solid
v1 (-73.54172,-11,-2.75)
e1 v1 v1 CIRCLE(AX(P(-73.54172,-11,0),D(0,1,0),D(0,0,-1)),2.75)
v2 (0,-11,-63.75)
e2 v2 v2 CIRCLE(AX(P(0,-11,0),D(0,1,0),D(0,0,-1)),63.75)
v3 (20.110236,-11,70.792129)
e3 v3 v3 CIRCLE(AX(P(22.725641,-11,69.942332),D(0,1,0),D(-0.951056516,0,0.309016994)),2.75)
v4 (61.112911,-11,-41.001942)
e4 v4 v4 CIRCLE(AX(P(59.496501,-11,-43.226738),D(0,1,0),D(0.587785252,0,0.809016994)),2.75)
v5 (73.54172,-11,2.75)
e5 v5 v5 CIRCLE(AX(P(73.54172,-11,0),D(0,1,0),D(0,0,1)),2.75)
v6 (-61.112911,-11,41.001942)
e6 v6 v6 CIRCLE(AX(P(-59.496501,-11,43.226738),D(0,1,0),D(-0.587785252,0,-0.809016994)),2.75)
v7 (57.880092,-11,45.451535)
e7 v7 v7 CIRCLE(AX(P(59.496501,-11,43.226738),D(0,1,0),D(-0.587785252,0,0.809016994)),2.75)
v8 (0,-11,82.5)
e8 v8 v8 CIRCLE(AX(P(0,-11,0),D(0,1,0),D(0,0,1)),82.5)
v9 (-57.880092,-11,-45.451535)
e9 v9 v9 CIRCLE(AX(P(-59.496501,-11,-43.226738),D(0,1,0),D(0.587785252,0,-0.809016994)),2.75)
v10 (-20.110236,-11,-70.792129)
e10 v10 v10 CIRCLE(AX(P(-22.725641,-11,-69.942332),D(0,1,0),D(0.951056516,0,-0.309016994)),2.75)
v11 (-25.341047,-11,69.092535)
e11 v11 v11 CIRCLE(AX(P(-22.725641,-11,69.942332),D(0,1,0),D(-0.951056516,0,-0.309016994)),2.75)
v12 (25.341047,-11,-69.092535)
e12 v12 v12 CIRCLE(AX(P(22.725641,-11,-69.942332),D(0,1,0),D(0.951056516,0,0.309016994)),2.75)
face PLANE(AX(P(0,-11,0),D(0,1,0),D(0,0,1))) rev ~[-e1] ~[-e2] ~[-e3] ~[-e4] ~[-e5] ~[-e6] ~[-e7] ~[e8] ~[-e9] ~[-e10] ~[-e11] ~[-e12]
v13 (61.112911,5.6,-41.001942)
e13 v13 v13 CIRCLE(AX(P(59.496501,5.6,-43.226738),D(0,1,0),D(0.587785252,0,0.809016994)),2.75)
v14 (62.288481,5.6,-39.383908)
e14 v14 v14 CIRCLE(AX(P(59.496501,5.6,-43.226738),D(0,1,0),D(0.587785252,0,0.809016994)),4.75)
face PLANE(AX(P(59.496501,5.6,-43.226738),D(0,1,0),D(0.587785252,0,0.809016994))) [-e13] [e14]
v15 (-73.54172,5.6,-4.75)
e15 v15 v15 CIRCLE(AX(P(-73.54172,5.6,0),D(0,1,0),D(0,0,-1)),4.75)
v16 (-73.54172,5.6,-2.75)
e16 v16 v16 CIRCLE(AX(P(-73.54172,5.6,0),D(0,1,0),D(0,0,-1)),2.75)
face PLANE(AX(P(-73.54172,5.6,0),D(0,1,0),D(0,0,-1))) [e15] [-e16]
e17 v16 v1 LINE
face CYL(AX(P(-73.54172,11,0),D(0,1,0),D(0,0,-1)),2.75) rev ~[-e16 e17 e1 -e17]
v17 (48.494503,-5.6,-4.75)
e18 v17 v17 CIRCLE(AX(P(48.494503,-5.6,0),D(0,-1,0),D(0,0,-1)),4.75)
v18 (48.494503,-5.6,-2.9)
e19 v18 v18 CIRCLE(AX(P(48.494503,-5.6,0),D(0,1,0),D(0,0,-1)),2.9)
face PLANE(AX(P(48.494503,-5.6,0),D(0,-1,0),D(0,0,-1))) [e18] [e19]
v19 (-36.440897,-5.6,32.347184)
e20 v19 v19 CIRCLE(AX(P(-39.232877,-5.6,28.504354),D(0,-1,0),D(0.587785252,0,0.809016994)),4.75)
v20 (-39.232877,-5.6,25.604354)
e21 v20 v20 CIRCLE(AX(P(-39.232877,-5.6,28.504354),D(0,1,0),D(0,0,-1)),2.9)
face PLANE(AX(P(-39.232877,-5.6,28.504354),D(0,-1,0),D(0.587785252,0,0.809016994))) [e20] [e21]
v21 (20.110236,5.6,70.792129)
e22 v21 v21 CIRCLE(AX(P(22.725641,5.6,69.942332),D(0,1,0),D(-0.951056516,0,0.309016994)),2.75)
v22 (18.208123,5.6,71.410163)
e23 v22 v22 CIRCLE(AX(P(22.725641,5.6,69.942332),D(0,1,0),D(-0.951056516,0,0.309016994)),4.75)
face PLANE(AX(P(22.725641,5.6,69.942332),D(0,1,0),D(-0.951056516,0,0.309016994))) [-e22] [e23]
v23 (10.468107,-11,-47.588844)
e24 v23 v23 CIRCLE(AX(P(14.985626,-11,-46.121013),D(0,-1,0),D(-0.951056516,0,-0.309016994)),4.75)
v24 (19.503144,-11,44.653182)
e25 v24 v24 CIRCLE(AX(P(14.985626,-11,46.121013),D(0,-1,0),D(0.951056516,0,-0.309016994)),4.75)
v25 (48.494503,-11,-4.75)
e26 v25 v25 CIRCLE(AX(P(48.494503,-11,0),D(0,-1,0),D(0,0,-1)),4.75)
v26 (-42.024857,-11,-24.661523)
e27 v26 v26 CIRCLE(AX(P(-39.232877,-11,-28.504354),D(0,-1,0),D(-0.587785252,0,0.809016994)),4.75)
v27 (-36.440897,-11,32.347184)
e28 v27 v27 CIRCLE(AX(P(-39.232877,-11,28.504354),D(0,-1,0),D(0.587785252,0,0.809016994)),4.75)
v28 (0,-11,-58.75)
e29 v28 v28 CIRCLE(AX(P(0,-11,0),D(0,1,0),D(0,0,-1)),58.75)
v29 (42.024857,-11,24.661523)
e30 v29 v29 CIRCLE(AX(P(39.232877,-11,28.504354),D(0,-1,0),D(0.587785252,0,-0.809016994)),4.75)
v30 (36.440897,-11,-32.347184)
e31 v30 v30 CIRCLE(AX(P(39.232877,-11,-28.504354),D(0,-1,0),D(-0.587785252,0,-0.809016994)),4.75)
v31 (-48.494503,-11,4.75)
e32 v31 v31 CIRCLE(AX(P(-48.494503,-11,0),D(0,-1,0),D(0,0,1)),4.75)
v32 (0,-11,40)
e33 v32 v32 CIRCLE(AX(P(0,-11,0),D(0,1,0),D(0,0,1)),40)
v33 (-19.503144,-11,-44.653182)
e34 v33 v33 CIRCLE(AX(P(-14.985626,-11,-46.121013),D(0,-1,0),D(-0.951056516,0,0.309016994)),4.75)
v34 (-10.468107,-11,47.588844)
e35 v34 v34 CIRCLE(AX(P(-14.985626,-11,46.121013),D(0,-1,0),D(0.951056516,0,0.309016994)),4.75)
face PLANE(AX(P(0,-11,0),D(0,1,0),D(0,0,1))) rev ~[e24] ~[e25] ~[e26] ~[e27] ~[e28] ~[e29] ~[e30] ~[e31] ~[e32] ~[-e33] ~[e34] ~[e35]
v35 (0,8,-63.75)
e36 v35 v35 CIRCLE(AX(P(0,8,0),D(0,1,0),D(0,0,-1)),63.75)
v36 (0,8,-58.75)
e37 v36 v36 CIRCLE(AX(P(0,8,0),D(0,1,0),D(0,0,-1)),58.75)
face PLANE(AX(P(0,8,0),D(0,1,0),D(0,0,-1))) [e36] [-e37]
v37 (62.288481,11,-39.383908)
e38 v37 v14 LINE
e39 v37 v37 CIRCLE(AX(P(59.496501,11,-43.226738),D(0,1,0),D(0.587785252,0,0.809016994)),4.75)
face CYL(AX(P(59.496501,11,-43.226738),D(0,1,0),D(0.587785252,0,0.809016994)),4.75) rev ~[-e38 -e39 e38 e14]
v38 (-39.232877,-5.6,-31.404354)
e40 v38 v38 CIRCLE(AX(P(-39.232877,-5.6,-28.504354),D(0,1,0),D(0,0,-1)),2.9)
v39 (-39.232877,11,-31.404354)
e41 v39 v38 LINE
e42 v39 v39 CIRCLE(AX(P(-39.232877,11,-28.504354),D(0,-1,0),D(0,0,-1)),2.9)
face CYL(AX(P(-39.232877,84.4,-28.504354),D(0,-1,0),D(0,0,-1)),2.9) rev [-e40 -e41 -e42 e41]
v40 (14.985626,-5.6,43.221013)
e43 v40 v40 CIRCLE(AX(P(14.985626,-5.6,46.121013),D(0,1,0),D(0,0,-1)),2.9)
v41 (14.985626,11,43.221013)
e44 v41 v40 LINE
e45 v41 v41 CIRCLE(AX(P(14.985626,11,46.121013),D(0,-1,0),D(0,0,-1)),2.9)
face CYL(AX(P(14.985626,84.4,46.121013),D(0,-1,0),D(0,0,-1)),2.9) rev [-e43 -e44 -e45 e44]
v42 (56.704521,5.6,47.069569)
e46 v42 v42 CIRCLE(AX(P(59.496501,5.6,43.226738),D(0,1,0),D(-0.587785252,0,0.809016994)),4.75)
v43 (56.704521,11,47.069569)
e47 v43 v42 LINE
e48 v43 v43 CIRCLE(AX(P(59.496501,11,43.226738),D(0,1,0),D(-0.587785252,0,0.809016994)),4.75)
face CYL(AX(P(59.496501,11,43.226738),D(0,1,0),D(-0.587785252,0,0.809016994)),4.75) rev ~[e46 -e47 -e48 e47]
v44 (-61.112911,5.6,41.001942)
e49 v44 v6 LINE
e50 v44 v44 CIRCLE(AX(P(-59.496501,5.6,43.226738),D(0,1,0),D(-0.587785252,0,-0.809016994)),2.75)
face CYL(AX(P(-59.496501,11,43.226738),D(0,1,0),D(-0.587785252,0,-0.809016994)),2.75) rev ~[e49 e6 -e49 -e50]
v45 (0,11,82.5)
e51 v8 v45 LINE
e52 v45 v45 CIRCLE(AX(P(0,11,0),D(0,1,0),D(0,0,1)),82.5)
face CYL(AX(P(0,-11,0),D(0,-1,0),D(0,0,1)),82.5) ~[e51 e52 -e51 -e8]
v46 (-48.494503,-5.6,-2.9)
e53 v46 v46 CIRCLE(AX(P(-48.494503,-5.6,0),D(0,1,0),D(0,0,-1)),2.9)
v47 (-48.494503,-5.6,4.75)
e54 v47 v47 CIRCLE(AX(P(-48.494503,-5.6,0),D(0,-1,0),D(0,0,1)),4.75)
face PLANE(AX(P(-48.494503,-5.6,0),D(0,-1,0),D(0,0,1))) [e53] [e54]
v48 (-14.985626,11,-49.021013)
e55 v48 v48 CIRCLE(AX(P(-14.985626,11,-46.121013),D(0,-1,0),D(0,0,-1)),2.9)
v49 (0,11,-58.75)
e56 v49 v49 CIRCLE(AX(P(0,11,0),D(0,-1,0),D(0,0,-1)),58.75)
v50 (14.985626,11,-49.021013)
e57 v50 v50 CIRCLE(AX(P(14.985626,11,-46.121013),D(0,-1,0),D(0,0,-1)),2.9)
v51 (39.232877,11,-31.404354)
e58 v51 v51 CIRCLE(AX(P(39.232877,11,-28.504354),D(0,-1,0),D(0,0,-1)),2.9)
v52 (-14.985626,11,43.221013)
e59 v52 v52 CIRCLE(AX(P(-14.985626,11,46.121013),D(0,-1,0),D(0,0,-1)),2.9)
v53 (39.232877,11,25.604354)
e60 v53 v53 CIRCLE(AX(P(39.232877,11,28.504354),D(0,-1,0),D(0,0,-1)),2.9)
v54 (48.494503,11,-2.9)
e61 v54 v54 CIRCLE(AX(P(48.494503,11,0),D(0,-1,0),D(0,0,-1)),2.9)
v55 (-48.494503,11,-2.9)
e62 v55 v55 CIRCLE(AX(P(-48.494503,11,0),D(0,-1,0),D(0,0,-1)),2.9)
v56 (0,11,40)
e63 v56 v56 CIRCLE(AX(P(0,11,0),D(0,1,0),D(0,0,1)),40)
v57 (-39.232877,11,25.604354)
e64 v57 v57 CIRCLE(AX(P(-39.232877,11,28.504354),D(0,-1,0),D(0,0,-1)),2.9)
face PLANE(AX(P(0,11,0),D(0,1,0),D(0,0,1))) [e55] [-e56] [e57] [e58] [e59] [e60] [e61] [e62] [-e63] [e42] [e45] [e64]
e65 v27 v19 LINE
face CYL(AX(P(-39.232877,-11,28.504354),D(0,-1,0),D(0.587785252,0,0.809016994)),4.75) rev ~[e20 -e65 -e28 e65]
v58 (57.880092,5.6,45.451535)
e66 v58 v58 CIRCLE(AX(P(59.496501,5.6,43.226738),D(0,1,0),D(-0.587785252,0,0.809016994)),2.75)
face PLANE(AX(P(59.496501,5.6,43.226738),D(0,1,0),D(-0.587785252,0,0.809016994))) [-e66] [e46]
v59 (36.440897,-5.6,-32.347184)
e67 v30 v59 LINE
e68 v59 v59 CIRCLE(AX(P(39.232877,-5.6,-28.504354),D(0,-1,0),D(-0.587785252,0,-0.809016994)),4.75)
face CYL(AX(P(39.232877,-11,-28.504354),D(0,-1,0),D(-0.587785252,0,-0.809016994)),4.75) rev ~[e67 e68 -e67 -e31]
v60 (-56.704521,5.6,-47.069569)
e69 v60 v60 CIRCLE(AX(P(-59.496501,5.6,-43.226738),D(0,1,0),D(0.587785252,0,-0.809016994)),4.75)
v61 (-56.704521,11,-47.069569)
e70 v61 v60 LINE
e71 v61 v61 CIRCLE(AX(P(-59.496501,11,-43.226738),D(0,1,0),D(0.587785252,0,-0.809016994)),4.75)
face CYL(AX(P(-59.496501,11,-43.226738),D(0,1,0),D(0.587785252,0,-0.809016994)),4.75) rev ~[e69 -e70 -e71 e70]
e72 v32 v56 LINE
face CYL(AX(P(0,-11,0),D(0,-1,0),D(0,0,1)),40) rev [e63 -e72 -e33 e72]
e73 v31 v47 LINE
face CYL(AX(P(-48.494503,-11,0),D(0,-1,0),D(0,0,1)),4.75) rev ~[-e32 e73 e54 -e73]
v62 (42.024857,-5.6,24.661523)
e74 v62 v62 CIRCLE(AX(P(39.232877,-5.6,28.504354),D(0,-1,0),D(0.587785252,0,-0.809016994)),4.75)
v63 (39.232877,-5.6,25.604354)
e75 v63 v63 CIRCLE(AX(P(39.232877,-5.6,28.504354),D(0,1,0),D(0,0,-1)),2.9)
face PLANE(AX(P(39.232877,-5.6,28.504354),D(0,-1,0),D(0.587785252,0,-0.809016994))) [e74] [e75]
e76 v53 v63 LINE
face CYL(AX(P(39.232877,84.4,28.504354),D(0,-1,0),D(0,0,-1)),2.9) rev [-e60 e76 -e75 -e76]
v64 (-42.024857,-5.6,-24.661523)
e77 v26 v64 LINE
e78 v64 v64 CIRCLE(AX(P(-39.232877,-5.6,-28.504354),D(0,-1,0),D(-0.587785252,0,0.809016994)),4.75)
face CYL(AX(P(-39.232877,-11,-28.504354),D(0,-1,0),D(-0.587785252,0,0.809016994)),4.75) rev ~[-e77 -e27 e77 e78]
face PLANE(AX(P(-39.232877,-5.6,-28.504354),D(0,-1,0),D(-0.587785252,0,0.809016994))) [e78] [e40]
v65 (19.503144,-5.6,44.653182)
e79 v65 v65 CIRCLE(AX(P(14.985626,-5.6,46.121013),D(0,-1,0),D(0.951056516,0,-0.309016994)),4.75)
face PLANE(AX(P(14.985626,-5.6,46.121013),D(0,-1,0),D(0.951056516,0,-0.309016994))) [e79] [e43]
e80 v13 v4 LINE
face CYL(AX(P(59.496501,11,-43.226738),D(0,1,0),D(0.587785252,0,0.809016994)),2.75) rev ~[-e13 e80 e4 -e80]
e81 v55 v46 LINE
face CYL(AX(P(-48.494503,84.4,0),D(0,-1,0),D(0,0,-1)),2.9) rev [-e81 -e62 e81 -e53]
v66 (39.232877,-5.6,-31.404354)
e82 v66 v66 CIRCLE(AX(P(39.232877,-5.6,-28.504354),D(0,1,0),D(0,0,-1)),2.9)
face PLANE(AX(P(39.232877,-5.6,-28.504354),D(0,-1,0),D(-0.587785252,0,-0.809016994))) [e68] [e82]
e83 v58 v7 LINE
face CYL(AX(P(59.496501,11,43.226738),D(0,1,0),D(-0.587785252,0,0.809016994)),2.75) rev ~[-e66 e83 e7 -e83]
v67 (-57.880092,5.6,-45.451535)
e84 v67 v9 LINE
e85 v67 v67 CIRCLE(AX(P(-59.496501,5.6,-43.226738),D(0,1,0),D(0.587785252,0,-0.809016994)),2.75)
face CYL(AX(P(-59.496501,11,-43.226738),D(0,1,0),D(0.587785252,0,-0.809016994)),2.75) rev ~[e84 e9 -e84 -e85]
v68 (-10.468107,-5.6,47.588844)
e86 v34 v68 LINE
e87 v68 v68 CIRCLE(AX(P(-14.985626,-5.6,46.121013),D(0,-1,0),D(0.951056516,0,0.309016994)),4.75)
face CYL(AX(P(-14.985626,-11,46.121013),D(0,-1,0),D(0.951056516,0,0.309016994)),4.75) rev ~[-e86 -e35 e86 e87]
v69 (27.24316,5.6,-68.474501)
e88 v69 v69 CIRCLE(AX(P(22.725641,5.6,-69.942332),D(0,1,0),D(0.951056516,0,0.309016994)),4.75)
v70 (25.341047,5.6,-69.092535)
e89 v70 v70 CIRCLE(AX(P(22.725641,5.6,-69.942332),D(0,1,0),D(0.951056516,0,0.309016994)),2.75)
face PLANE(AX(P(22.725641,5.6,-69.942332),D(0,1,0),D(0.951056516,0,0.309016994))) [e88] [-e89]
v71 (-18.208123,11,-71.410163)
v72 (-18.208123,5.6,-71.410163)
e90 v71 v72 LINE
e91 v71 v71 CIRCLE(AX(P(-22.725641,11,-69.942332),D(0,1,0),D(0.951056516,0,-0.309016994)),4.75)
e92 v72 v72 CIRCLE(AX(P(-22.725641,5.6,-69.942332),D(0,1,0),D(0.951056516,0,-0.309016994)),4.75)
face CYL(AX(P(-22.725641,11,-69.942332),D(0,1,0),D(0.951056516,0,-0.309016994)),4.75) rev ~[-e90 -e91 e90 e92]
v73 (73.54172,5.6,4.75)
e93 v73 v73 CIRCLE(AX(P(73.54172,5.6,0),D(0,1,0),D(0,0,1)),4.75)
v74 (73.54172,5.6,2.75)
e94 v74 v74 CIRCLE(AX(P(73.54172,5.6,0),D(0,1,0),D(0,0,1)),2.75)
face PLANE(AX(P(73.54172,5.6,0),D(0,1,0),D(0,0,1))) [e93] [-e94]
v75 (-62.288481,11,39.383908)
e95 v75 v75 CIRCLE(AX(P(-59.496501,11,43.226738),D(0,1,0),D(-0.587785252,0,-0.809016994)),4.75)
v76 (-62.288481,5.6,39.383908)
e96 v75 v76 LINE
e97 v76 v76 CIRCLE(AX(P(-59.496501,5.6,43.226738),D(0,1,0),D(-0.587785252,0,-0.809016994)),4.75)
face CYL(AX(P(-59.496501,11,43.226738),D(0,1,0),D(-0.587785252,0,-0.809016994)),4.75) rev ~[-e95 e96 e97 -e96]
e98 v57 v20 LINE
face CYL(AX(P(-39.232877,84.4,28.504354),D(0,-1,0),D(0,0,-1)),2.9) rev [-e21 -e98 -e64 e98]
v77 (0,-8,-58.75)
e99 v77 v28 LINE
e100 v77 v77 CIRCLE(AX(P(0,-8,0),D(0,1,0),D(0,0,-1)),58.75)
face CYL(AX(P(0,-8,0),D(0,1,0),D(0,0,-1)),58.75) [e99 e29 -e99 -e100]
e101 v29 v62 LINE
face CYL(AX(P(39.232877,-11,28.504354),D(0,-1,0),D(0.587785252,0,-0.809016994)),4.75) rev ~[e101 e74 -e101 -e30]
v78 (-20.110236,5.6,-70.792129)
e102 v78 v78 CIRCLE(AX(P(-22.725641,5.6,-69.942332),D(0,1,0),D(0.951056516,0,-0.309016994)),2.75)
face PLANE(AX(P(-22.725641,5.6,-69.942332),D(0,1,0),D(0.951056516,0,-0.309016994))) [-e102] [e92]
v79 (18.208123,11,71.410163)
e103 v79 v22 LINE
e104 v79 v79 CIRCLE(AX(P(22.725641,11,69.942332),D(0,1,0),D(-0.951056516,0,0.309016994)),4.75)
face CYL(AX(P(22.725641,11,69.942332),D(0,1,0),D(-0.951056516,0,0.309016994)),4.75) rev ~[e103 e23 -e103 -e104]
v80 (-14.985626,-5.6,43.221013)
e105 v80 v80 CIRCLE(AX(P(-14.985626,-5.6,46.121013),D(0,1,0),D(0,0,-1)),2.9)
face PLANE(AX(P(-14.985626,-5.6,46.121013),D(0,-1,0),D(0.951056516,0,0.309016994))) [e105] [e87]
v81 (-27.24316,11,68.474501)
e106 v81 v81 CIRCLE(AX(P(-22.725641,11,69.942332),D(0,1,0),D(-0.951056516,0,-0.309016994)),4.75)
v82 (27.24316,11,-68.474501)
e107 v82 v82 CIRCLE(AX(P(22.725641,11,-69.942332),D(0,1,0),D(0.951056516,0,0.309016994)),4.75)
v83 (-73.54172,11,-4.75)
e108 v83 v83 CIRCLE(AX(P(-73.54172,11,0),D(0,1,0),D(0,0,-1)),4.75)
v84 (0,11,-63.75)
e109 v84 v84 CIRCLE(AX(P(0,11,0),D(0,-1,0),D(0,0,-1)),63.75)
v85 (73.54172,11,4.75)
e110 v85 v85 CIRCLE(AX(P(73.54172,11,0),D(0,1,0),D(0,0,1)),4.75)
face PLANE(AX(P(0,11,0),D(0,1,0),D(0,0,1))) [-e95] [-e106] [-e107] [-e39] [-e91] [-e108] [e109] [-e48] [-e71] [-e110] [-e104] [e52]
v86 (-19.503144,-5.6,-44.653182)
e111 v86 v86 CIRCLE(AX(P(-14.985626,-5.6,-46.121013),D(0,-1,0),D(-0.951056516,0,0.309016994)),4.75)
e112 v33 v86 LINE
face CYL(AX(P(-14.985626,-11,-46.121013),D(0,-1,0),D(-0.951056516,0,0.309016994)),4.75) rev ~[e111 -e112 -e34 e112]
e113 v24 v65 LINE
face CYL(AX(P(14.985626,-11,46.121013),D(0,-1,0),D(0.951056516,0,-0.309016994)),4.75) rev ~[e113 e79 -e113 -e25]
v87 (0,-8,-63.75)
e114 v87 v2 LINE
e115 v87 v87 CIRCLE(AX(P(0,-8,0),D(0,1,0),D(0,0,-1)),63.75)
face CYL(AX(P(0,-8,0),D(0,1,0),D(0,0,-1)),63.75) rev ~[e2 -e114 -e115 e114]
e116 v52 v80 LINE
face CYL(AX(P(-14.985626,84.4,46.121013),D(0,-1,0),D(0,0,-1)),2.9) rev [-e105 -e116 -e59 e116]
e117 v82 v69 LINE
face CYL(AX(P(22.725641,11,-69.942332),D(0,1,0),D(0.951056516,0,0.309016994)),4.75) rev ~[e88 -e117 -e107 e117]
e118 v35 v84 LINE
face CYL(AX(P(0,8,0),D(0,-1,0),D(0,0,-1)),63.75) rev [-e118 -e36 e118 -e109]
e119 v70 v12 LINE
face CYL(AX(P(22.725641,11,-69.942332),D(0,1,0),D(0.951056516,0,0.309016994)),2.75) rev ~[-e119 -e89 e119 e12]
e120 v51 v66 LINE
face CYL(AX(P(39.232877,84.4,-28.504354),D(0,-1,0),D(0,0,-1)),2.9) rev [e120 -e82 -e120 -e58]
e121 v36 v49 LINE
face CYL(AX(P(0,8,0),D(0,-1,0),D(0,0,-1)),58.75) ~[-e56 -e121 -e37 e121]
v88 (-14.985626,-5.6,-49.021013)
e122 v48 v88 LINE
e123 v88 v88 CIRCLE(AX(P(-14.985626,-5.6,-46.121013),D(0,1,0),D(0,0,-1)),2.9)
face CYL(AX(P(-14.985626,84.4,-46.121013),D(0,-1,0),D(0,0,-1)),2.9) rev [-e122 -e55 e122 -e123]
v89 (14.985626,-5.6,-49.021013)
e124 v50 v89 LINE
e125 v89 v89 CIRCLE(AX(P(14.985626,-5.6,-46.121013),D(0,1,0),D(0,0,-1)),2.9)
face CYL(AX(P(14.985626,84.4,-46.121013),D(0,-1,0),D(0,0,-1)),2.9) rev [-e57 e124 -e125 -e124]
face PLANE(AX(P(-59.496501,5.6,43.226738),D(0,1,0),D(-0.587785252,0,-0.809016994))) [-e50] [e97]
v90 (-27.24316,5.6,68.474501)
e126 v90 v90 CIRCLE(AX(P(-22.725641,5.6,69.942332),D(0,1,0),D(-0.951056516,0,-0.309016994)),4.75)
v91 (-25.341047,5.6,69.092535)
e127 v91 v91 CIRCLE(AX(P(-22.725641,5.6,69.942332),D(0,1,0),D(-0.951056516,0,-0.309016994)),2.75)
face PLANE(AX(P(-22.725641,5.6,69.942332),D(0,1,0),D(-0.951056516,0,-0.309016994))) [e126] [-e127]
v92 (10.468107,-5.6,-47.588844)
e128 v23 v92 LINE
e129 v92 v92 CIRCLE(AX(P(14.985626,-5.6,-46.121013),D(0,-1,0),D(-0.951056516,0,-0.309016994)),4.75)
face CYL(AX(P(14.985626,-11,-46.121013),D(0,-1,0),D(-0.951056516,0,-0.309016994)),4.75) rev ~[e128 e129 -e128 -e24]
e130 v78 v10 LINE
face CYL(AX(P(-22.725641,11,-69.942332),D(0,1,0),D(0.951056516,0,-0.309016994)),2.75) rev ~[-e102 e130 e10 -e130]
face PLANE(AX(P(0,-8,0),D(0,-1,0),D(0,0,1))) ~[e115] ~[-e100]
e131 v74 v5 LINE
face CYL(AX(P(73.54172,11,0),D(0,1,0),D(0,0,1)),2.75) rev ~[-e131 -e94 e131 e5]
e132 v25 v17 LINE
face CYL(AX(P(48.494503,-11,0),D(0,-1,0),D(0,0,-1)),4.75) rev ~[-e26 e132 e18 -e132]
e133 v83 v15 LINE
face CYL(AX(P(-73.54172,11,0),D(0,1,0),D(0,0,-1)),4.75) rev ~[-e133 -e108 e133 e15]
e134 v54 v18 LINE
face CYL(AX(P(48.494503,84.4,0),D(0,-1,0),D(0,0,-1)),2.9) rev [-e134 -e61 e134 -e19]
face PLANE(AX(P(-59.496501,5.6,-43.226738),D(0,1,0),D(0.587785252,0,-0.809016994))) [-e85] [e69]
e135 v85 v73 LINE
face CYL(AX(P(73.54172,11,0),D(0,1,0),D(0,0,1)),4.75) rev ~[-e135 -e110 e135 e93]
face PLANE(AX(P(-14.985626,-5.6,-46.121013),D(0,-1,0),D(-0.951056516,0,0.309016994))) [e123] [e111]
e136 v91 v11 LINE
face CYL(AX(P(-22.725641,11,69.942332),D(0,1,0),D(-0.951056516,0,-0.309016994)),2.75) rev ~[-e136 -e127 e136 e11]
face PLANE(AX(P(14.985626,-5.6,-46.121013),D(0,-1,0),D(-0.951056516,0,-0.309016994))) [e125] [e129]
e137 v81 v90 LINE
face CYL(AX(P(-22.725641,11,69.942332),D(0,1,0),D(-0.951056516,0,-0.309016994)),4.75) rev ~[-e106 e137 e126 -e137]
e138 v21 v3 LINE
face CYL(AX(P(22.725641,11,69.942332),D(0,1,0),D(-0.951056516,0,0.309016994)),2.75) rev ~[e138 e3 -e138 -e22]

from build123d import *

# Parameters (mm, degrees)
BOSS_EXTRU_1_DEPTH           = 11
BOSS_EXTRU_1_DEPTH_BACK      = 11
ESQUISSE1_R                  = 82.5
ESQUISSE1_R_2                = 40
ESQUISSE2_R                  = 2.75
ENL_V_MAT_EXTRU_1_DEPTH      = 119.728682297
ESQUISSE4_R                  = 4.75
ENL_V_MAT_EXTRU_3_DEPTH      = 5.4
ESQUISSE5_R                  = 4.75
ENL_V_MAT_EXTRU_4_DEPTH      = 5.4
R_P_TITION_CIRCULAIRE1_COUNT = 10
ENL_V_START                  = -3
ESQUISSE3_R                  = 63.75
ESQUISSE3_R_2                = 58.75
ENL_V_MAT_EXTRU_2_DEPTH      = 122.728682297
D_GAGEMENT_M51_AT_2_COUNT    = 2
D_GAGEMENT_M51_AT_2_PITCH    = 96.989005831
D_GAGEMENT_M51_AT_3_COUNT    = 2
D_GAGEMENT_M51_AT_3_PITCH    = 92.242026005
D_GAGEMENT_M51_AT_4_COUNT    = 2
D_GAGEMENT_M51_AT_4_PITCH    = 92.242026005
D_GAGEMENT_M51_AT_5_COUNT    = 2
D_GAGEMENT_M51_AT_5_PITCH    = 57.008707262
D_GAGEMENT_M51_AT_6_COUNT    = 2
D_GAGEMENT_M51_AT_6_PITCH    = 29.971251069
D_GAGEMENT_M51_AT_7_COUNT    = 2
D_GAGEMENT_M51_AT_7_PITCH    = 57.008707262
D_GAGEMENT_M51_AT_8_COUNT    = 2
D_GAGEMENT_M51_AT_8_PITCH    = 78.465753985
D_GAGEMENT_M51_AT_9_COUNT    = 2
D_GAGEMENT_M51_AT_9_PITCH    = 29.971251069
D_GAGEMENT_M51_AT_10_COUNT   = 2
D_GAGEMENT_M51_AT_10_PITCH   = 78.465753985


with BuildPart() as part:
    # Esquisse1 → Boss.-Extru.1 (new, two sides: drawn at the far end of the back side and taken through both)
    with BuildSketch(Plane(origin=(0, 0, 0), x_dir=(1, 0, 0), z_dir=(0, 1, 0)).offset(-BOSS_EXTRU_1_DEPTH_BACK)):
        Circle(ESQUISSE1_R)
        Circle(ESQUISSE1_R_2, mode=Mode.SUBTRACT)
    extrude(amount=BOSS_EXTRU_1_DEPTH + BOSS_EXTRU_1_DEPTH_BACK)

    # Esquisse2 → Enlèv. mat.-Extru.1 (cut, symmetric)
    with BuildSketch(Plane(origin=(0, 11, 0), x_dir=(1, 0, 0), z_dir=(0, 1, 0))):
        with Locations((73.541719779, 0)):
            Circle(ESQUISSE2_R)
        with Locations((48.494502916, 0)):
            Circle(ESQUISSE2_R)
    enl_v_mat_extru_1 = extrude(amount=ENL_V_MAT_EXTRU_1_DEPTH, both=True, mode=Mode.SUBTRACT)

    # Esquisse4 → Enlèv. mat.-Extru.3 (cut)
    with BuildSketch(Plane(origin=(0, 11, 0), x_dir=(1, 0, 0), z_dir=(0, 1, 0))):
        with Locations((73.541719779, 0)):
            Circle(ESQUISSE4_R)
    enl_v_mat_extru_3 = extrude(amount=-ENL_V_MAT_EXTRU_3_DEPTH, mode=Mode.SUBTRACT)

    # Esquisse5 → Enlèv. mat.-Extru.4 (cut)
    with BuildSketch(Plane.XZ.offset(11)):
        with Locations((48.494502916, 0)):
            Circle(ESQUISSE5_R)
    enl_v_mat_extru_4 = extrude(amount=-ENL_V_MAT_EXTRU_4_DEPTH, mode=Mode.SUBTRACT)

    # Répétition circulaire1: Enlèv. mat.-Extru.1, Enlèv. mat.-Extru.3, Enlèv. mat.-Extru.4 ×10 about axis
    r_p_tition_circulaire1_axis = Axis((0, 11, 0), (0, 1, 0))
    add([enl_v_mat_extru_1.rotate(r_p_tition_circulaire1_axis, i * 360 / R_P_TITION_CIRCULAIRE1_COUNT) for i in range(1, R_P_TITION_CIRCULAIRE1_COUNT)], mode=Mode.SUBTRACT)
    add([enl_v_mat_extru_3.rotate(r_p_tition_circulaire1_axis, i * 360 / R_P_TITION_CIRCULAIRE1_COUNT) for i in range(1, R_P_TITION_CIRCULAIRE1_COUNT)], mode=Mode.SUBTRACT)
    add([enl_v_mat_extru_4.rotate(r_p_tition_circulaire1_axis, i * 360 / R_P_TITION_CIRCULAIRE1_COUNT) for i in range(1, R_P_TITION_CIRCULAIRE1_COUNT)], mode=Mode.SUBTRACT)

    # Esquisse3 → Enlèv. mat.-Extru.2 (cut)
    with BuildSketch(Plane(origin=(0, 11, 0), x_dir=(1, 0, 0), z_dir=(0, 1, 0)).offset(ENL_V_START)):
        Circle(ESQUISSE3_R)
        Circle(ESQUISSE3_R_2, mode=Mode.SUBTRACT)
    enl_v_mat_extru_2 = extrude(amount=ENL_V_MAT_EXTRU_2_DEPTH, mode=Mode.SUBTRACT)

    # Symétrie1: Enlèv. mat.-Extru.2 across plane
    add(enl_v_mat_extru_2.mirror(Plane.ZX), mode=Mode.SUBTRACT)

    # Esquisse6 → Dégagement M51 (revolve, cut)
    with BuildSketch(Plane(origin=(-48.494502916, -5.6, 0), x_dir=(0, 0, -1), z_dir=(1, 0, 0))):
        Polygon((0, 0), (0, 91.742495795), (2.9, 90), (2.9, 0), align=None)
    d_gagement_m51 = revolve(axis=Axis((-48.494502916, -11.95, 0), (0, 1, 0)), mode=Mode.SUBTRACT)

    # Dégagement M51 at 2: Dégagement M51 ×2
    with Locations(*[(i * D_GAGEMENT_M51_AT_2_PITCH, 0, 0) for i in range(1, D_GAGEMENT_M51_AT_2_COUNT)]):
        add(d_gagement_m51, mode=Mode.SUBTRACT)

    # Dégagement M51 at 3: Dégagement M51 ×2
    with Locations(*[Vector(0.9510565162951522, 0, 0.3090169943749516) * (i * D_GAGEMENT_M51_AT_3_PITCH) for i in range(1, D_GAGEMENT_M51_AT_3_COUNT)]):
        add(d_gagement_m51, mode=Mode.SUBTRACT)

    # Dégagement M51 at 4: Dégagement M51 ×2
    with Locations(*[Vector(0.9510565162951545, 0, -0.3090169943749448) * (i * D_GAGEMENT_M51_AT_4_PITCH) for i in range(1, D_GAGEMENT_M51_AT_4_COUNT)]):
        add(d_gagement_m51, mode=Mode.SUBTRACT)

    # Dégagement M51 at 5: Dégagement M51 ×2
    with Locations(*[Vector(0.5877852522924744, 0, -0.8090169943749467) * (i * D_GAGEMENT_M51_AT_5_PITCH) for i in range(1, D_GAGEMENT_M51_AT_5_COUNT)]):
        add(d_gagement_m51, mode=Mode.SUBTRACT)

    # Dégagement M51 at 6: Dégagement M51 ×2
    with Locations(*[Vector(0.3090169943749479, 0, -0.9510565162951535) * (i * D_GAGEMENT_M51_AT_6_PITCH) for i in range(1, D_GAGEMENT_M51_AT_6_COUNT)]):
        add(d_gagement_m51, mode=Mode.SUBTRACT)

    # Dégagement M51 at 7: Dégagement M51 ×2
    with Locations(*[Vector(0.5877852522924686, 0, 0.8090169943749508) * (i * D_GAGEMENT_M51_AT_7_PITCH) for i in range(1, D_GAGEMENT_M51_AT_7_COUNT)]):
        add(d_gagement_m51, mode=Mode.SUBTRACT)

    # Dégagement M51 at 8: Dégagement M51 ×2
    with Locations(*[Vector(0.8090169943749447, 0, 0.587785252292477) * (i * D_GAGEMENT_M51_AT_8_PITCH) for i in range(1, D_GAGEMENT_M51_AT_8_COUNT)]):
        add(d_gagement_m51, mode=Mode.SUBTRACT)

    # Dégagement M51 at 9: Dégagement M51 ×2
    with Locations(*[Vector(0.3090169943749415, 0, 0.9510565162951555) * (i * D_GAGEMENT_M51_AT_9_PITCH) for i in range(1, D_GAGEMENT_M51_AT_9_COUNT)]):
        add(d_gagement_m51, mode=Mode.SUBTRACT)

    # Dégagement M51 at 10: Dégagement M51 ×2
    with Locations(*[Vector(0.8090169943749487, 0, -0.5877852522924714) * (i * D_GAGEMENT_M51_AT_10_PITCH) for i in range(1, D_GAGEMENT_M51_AT_10_COUNT)]):
        add(d_gagement_m51, mode=Mode.SUBTRACT)


solid = part.part
